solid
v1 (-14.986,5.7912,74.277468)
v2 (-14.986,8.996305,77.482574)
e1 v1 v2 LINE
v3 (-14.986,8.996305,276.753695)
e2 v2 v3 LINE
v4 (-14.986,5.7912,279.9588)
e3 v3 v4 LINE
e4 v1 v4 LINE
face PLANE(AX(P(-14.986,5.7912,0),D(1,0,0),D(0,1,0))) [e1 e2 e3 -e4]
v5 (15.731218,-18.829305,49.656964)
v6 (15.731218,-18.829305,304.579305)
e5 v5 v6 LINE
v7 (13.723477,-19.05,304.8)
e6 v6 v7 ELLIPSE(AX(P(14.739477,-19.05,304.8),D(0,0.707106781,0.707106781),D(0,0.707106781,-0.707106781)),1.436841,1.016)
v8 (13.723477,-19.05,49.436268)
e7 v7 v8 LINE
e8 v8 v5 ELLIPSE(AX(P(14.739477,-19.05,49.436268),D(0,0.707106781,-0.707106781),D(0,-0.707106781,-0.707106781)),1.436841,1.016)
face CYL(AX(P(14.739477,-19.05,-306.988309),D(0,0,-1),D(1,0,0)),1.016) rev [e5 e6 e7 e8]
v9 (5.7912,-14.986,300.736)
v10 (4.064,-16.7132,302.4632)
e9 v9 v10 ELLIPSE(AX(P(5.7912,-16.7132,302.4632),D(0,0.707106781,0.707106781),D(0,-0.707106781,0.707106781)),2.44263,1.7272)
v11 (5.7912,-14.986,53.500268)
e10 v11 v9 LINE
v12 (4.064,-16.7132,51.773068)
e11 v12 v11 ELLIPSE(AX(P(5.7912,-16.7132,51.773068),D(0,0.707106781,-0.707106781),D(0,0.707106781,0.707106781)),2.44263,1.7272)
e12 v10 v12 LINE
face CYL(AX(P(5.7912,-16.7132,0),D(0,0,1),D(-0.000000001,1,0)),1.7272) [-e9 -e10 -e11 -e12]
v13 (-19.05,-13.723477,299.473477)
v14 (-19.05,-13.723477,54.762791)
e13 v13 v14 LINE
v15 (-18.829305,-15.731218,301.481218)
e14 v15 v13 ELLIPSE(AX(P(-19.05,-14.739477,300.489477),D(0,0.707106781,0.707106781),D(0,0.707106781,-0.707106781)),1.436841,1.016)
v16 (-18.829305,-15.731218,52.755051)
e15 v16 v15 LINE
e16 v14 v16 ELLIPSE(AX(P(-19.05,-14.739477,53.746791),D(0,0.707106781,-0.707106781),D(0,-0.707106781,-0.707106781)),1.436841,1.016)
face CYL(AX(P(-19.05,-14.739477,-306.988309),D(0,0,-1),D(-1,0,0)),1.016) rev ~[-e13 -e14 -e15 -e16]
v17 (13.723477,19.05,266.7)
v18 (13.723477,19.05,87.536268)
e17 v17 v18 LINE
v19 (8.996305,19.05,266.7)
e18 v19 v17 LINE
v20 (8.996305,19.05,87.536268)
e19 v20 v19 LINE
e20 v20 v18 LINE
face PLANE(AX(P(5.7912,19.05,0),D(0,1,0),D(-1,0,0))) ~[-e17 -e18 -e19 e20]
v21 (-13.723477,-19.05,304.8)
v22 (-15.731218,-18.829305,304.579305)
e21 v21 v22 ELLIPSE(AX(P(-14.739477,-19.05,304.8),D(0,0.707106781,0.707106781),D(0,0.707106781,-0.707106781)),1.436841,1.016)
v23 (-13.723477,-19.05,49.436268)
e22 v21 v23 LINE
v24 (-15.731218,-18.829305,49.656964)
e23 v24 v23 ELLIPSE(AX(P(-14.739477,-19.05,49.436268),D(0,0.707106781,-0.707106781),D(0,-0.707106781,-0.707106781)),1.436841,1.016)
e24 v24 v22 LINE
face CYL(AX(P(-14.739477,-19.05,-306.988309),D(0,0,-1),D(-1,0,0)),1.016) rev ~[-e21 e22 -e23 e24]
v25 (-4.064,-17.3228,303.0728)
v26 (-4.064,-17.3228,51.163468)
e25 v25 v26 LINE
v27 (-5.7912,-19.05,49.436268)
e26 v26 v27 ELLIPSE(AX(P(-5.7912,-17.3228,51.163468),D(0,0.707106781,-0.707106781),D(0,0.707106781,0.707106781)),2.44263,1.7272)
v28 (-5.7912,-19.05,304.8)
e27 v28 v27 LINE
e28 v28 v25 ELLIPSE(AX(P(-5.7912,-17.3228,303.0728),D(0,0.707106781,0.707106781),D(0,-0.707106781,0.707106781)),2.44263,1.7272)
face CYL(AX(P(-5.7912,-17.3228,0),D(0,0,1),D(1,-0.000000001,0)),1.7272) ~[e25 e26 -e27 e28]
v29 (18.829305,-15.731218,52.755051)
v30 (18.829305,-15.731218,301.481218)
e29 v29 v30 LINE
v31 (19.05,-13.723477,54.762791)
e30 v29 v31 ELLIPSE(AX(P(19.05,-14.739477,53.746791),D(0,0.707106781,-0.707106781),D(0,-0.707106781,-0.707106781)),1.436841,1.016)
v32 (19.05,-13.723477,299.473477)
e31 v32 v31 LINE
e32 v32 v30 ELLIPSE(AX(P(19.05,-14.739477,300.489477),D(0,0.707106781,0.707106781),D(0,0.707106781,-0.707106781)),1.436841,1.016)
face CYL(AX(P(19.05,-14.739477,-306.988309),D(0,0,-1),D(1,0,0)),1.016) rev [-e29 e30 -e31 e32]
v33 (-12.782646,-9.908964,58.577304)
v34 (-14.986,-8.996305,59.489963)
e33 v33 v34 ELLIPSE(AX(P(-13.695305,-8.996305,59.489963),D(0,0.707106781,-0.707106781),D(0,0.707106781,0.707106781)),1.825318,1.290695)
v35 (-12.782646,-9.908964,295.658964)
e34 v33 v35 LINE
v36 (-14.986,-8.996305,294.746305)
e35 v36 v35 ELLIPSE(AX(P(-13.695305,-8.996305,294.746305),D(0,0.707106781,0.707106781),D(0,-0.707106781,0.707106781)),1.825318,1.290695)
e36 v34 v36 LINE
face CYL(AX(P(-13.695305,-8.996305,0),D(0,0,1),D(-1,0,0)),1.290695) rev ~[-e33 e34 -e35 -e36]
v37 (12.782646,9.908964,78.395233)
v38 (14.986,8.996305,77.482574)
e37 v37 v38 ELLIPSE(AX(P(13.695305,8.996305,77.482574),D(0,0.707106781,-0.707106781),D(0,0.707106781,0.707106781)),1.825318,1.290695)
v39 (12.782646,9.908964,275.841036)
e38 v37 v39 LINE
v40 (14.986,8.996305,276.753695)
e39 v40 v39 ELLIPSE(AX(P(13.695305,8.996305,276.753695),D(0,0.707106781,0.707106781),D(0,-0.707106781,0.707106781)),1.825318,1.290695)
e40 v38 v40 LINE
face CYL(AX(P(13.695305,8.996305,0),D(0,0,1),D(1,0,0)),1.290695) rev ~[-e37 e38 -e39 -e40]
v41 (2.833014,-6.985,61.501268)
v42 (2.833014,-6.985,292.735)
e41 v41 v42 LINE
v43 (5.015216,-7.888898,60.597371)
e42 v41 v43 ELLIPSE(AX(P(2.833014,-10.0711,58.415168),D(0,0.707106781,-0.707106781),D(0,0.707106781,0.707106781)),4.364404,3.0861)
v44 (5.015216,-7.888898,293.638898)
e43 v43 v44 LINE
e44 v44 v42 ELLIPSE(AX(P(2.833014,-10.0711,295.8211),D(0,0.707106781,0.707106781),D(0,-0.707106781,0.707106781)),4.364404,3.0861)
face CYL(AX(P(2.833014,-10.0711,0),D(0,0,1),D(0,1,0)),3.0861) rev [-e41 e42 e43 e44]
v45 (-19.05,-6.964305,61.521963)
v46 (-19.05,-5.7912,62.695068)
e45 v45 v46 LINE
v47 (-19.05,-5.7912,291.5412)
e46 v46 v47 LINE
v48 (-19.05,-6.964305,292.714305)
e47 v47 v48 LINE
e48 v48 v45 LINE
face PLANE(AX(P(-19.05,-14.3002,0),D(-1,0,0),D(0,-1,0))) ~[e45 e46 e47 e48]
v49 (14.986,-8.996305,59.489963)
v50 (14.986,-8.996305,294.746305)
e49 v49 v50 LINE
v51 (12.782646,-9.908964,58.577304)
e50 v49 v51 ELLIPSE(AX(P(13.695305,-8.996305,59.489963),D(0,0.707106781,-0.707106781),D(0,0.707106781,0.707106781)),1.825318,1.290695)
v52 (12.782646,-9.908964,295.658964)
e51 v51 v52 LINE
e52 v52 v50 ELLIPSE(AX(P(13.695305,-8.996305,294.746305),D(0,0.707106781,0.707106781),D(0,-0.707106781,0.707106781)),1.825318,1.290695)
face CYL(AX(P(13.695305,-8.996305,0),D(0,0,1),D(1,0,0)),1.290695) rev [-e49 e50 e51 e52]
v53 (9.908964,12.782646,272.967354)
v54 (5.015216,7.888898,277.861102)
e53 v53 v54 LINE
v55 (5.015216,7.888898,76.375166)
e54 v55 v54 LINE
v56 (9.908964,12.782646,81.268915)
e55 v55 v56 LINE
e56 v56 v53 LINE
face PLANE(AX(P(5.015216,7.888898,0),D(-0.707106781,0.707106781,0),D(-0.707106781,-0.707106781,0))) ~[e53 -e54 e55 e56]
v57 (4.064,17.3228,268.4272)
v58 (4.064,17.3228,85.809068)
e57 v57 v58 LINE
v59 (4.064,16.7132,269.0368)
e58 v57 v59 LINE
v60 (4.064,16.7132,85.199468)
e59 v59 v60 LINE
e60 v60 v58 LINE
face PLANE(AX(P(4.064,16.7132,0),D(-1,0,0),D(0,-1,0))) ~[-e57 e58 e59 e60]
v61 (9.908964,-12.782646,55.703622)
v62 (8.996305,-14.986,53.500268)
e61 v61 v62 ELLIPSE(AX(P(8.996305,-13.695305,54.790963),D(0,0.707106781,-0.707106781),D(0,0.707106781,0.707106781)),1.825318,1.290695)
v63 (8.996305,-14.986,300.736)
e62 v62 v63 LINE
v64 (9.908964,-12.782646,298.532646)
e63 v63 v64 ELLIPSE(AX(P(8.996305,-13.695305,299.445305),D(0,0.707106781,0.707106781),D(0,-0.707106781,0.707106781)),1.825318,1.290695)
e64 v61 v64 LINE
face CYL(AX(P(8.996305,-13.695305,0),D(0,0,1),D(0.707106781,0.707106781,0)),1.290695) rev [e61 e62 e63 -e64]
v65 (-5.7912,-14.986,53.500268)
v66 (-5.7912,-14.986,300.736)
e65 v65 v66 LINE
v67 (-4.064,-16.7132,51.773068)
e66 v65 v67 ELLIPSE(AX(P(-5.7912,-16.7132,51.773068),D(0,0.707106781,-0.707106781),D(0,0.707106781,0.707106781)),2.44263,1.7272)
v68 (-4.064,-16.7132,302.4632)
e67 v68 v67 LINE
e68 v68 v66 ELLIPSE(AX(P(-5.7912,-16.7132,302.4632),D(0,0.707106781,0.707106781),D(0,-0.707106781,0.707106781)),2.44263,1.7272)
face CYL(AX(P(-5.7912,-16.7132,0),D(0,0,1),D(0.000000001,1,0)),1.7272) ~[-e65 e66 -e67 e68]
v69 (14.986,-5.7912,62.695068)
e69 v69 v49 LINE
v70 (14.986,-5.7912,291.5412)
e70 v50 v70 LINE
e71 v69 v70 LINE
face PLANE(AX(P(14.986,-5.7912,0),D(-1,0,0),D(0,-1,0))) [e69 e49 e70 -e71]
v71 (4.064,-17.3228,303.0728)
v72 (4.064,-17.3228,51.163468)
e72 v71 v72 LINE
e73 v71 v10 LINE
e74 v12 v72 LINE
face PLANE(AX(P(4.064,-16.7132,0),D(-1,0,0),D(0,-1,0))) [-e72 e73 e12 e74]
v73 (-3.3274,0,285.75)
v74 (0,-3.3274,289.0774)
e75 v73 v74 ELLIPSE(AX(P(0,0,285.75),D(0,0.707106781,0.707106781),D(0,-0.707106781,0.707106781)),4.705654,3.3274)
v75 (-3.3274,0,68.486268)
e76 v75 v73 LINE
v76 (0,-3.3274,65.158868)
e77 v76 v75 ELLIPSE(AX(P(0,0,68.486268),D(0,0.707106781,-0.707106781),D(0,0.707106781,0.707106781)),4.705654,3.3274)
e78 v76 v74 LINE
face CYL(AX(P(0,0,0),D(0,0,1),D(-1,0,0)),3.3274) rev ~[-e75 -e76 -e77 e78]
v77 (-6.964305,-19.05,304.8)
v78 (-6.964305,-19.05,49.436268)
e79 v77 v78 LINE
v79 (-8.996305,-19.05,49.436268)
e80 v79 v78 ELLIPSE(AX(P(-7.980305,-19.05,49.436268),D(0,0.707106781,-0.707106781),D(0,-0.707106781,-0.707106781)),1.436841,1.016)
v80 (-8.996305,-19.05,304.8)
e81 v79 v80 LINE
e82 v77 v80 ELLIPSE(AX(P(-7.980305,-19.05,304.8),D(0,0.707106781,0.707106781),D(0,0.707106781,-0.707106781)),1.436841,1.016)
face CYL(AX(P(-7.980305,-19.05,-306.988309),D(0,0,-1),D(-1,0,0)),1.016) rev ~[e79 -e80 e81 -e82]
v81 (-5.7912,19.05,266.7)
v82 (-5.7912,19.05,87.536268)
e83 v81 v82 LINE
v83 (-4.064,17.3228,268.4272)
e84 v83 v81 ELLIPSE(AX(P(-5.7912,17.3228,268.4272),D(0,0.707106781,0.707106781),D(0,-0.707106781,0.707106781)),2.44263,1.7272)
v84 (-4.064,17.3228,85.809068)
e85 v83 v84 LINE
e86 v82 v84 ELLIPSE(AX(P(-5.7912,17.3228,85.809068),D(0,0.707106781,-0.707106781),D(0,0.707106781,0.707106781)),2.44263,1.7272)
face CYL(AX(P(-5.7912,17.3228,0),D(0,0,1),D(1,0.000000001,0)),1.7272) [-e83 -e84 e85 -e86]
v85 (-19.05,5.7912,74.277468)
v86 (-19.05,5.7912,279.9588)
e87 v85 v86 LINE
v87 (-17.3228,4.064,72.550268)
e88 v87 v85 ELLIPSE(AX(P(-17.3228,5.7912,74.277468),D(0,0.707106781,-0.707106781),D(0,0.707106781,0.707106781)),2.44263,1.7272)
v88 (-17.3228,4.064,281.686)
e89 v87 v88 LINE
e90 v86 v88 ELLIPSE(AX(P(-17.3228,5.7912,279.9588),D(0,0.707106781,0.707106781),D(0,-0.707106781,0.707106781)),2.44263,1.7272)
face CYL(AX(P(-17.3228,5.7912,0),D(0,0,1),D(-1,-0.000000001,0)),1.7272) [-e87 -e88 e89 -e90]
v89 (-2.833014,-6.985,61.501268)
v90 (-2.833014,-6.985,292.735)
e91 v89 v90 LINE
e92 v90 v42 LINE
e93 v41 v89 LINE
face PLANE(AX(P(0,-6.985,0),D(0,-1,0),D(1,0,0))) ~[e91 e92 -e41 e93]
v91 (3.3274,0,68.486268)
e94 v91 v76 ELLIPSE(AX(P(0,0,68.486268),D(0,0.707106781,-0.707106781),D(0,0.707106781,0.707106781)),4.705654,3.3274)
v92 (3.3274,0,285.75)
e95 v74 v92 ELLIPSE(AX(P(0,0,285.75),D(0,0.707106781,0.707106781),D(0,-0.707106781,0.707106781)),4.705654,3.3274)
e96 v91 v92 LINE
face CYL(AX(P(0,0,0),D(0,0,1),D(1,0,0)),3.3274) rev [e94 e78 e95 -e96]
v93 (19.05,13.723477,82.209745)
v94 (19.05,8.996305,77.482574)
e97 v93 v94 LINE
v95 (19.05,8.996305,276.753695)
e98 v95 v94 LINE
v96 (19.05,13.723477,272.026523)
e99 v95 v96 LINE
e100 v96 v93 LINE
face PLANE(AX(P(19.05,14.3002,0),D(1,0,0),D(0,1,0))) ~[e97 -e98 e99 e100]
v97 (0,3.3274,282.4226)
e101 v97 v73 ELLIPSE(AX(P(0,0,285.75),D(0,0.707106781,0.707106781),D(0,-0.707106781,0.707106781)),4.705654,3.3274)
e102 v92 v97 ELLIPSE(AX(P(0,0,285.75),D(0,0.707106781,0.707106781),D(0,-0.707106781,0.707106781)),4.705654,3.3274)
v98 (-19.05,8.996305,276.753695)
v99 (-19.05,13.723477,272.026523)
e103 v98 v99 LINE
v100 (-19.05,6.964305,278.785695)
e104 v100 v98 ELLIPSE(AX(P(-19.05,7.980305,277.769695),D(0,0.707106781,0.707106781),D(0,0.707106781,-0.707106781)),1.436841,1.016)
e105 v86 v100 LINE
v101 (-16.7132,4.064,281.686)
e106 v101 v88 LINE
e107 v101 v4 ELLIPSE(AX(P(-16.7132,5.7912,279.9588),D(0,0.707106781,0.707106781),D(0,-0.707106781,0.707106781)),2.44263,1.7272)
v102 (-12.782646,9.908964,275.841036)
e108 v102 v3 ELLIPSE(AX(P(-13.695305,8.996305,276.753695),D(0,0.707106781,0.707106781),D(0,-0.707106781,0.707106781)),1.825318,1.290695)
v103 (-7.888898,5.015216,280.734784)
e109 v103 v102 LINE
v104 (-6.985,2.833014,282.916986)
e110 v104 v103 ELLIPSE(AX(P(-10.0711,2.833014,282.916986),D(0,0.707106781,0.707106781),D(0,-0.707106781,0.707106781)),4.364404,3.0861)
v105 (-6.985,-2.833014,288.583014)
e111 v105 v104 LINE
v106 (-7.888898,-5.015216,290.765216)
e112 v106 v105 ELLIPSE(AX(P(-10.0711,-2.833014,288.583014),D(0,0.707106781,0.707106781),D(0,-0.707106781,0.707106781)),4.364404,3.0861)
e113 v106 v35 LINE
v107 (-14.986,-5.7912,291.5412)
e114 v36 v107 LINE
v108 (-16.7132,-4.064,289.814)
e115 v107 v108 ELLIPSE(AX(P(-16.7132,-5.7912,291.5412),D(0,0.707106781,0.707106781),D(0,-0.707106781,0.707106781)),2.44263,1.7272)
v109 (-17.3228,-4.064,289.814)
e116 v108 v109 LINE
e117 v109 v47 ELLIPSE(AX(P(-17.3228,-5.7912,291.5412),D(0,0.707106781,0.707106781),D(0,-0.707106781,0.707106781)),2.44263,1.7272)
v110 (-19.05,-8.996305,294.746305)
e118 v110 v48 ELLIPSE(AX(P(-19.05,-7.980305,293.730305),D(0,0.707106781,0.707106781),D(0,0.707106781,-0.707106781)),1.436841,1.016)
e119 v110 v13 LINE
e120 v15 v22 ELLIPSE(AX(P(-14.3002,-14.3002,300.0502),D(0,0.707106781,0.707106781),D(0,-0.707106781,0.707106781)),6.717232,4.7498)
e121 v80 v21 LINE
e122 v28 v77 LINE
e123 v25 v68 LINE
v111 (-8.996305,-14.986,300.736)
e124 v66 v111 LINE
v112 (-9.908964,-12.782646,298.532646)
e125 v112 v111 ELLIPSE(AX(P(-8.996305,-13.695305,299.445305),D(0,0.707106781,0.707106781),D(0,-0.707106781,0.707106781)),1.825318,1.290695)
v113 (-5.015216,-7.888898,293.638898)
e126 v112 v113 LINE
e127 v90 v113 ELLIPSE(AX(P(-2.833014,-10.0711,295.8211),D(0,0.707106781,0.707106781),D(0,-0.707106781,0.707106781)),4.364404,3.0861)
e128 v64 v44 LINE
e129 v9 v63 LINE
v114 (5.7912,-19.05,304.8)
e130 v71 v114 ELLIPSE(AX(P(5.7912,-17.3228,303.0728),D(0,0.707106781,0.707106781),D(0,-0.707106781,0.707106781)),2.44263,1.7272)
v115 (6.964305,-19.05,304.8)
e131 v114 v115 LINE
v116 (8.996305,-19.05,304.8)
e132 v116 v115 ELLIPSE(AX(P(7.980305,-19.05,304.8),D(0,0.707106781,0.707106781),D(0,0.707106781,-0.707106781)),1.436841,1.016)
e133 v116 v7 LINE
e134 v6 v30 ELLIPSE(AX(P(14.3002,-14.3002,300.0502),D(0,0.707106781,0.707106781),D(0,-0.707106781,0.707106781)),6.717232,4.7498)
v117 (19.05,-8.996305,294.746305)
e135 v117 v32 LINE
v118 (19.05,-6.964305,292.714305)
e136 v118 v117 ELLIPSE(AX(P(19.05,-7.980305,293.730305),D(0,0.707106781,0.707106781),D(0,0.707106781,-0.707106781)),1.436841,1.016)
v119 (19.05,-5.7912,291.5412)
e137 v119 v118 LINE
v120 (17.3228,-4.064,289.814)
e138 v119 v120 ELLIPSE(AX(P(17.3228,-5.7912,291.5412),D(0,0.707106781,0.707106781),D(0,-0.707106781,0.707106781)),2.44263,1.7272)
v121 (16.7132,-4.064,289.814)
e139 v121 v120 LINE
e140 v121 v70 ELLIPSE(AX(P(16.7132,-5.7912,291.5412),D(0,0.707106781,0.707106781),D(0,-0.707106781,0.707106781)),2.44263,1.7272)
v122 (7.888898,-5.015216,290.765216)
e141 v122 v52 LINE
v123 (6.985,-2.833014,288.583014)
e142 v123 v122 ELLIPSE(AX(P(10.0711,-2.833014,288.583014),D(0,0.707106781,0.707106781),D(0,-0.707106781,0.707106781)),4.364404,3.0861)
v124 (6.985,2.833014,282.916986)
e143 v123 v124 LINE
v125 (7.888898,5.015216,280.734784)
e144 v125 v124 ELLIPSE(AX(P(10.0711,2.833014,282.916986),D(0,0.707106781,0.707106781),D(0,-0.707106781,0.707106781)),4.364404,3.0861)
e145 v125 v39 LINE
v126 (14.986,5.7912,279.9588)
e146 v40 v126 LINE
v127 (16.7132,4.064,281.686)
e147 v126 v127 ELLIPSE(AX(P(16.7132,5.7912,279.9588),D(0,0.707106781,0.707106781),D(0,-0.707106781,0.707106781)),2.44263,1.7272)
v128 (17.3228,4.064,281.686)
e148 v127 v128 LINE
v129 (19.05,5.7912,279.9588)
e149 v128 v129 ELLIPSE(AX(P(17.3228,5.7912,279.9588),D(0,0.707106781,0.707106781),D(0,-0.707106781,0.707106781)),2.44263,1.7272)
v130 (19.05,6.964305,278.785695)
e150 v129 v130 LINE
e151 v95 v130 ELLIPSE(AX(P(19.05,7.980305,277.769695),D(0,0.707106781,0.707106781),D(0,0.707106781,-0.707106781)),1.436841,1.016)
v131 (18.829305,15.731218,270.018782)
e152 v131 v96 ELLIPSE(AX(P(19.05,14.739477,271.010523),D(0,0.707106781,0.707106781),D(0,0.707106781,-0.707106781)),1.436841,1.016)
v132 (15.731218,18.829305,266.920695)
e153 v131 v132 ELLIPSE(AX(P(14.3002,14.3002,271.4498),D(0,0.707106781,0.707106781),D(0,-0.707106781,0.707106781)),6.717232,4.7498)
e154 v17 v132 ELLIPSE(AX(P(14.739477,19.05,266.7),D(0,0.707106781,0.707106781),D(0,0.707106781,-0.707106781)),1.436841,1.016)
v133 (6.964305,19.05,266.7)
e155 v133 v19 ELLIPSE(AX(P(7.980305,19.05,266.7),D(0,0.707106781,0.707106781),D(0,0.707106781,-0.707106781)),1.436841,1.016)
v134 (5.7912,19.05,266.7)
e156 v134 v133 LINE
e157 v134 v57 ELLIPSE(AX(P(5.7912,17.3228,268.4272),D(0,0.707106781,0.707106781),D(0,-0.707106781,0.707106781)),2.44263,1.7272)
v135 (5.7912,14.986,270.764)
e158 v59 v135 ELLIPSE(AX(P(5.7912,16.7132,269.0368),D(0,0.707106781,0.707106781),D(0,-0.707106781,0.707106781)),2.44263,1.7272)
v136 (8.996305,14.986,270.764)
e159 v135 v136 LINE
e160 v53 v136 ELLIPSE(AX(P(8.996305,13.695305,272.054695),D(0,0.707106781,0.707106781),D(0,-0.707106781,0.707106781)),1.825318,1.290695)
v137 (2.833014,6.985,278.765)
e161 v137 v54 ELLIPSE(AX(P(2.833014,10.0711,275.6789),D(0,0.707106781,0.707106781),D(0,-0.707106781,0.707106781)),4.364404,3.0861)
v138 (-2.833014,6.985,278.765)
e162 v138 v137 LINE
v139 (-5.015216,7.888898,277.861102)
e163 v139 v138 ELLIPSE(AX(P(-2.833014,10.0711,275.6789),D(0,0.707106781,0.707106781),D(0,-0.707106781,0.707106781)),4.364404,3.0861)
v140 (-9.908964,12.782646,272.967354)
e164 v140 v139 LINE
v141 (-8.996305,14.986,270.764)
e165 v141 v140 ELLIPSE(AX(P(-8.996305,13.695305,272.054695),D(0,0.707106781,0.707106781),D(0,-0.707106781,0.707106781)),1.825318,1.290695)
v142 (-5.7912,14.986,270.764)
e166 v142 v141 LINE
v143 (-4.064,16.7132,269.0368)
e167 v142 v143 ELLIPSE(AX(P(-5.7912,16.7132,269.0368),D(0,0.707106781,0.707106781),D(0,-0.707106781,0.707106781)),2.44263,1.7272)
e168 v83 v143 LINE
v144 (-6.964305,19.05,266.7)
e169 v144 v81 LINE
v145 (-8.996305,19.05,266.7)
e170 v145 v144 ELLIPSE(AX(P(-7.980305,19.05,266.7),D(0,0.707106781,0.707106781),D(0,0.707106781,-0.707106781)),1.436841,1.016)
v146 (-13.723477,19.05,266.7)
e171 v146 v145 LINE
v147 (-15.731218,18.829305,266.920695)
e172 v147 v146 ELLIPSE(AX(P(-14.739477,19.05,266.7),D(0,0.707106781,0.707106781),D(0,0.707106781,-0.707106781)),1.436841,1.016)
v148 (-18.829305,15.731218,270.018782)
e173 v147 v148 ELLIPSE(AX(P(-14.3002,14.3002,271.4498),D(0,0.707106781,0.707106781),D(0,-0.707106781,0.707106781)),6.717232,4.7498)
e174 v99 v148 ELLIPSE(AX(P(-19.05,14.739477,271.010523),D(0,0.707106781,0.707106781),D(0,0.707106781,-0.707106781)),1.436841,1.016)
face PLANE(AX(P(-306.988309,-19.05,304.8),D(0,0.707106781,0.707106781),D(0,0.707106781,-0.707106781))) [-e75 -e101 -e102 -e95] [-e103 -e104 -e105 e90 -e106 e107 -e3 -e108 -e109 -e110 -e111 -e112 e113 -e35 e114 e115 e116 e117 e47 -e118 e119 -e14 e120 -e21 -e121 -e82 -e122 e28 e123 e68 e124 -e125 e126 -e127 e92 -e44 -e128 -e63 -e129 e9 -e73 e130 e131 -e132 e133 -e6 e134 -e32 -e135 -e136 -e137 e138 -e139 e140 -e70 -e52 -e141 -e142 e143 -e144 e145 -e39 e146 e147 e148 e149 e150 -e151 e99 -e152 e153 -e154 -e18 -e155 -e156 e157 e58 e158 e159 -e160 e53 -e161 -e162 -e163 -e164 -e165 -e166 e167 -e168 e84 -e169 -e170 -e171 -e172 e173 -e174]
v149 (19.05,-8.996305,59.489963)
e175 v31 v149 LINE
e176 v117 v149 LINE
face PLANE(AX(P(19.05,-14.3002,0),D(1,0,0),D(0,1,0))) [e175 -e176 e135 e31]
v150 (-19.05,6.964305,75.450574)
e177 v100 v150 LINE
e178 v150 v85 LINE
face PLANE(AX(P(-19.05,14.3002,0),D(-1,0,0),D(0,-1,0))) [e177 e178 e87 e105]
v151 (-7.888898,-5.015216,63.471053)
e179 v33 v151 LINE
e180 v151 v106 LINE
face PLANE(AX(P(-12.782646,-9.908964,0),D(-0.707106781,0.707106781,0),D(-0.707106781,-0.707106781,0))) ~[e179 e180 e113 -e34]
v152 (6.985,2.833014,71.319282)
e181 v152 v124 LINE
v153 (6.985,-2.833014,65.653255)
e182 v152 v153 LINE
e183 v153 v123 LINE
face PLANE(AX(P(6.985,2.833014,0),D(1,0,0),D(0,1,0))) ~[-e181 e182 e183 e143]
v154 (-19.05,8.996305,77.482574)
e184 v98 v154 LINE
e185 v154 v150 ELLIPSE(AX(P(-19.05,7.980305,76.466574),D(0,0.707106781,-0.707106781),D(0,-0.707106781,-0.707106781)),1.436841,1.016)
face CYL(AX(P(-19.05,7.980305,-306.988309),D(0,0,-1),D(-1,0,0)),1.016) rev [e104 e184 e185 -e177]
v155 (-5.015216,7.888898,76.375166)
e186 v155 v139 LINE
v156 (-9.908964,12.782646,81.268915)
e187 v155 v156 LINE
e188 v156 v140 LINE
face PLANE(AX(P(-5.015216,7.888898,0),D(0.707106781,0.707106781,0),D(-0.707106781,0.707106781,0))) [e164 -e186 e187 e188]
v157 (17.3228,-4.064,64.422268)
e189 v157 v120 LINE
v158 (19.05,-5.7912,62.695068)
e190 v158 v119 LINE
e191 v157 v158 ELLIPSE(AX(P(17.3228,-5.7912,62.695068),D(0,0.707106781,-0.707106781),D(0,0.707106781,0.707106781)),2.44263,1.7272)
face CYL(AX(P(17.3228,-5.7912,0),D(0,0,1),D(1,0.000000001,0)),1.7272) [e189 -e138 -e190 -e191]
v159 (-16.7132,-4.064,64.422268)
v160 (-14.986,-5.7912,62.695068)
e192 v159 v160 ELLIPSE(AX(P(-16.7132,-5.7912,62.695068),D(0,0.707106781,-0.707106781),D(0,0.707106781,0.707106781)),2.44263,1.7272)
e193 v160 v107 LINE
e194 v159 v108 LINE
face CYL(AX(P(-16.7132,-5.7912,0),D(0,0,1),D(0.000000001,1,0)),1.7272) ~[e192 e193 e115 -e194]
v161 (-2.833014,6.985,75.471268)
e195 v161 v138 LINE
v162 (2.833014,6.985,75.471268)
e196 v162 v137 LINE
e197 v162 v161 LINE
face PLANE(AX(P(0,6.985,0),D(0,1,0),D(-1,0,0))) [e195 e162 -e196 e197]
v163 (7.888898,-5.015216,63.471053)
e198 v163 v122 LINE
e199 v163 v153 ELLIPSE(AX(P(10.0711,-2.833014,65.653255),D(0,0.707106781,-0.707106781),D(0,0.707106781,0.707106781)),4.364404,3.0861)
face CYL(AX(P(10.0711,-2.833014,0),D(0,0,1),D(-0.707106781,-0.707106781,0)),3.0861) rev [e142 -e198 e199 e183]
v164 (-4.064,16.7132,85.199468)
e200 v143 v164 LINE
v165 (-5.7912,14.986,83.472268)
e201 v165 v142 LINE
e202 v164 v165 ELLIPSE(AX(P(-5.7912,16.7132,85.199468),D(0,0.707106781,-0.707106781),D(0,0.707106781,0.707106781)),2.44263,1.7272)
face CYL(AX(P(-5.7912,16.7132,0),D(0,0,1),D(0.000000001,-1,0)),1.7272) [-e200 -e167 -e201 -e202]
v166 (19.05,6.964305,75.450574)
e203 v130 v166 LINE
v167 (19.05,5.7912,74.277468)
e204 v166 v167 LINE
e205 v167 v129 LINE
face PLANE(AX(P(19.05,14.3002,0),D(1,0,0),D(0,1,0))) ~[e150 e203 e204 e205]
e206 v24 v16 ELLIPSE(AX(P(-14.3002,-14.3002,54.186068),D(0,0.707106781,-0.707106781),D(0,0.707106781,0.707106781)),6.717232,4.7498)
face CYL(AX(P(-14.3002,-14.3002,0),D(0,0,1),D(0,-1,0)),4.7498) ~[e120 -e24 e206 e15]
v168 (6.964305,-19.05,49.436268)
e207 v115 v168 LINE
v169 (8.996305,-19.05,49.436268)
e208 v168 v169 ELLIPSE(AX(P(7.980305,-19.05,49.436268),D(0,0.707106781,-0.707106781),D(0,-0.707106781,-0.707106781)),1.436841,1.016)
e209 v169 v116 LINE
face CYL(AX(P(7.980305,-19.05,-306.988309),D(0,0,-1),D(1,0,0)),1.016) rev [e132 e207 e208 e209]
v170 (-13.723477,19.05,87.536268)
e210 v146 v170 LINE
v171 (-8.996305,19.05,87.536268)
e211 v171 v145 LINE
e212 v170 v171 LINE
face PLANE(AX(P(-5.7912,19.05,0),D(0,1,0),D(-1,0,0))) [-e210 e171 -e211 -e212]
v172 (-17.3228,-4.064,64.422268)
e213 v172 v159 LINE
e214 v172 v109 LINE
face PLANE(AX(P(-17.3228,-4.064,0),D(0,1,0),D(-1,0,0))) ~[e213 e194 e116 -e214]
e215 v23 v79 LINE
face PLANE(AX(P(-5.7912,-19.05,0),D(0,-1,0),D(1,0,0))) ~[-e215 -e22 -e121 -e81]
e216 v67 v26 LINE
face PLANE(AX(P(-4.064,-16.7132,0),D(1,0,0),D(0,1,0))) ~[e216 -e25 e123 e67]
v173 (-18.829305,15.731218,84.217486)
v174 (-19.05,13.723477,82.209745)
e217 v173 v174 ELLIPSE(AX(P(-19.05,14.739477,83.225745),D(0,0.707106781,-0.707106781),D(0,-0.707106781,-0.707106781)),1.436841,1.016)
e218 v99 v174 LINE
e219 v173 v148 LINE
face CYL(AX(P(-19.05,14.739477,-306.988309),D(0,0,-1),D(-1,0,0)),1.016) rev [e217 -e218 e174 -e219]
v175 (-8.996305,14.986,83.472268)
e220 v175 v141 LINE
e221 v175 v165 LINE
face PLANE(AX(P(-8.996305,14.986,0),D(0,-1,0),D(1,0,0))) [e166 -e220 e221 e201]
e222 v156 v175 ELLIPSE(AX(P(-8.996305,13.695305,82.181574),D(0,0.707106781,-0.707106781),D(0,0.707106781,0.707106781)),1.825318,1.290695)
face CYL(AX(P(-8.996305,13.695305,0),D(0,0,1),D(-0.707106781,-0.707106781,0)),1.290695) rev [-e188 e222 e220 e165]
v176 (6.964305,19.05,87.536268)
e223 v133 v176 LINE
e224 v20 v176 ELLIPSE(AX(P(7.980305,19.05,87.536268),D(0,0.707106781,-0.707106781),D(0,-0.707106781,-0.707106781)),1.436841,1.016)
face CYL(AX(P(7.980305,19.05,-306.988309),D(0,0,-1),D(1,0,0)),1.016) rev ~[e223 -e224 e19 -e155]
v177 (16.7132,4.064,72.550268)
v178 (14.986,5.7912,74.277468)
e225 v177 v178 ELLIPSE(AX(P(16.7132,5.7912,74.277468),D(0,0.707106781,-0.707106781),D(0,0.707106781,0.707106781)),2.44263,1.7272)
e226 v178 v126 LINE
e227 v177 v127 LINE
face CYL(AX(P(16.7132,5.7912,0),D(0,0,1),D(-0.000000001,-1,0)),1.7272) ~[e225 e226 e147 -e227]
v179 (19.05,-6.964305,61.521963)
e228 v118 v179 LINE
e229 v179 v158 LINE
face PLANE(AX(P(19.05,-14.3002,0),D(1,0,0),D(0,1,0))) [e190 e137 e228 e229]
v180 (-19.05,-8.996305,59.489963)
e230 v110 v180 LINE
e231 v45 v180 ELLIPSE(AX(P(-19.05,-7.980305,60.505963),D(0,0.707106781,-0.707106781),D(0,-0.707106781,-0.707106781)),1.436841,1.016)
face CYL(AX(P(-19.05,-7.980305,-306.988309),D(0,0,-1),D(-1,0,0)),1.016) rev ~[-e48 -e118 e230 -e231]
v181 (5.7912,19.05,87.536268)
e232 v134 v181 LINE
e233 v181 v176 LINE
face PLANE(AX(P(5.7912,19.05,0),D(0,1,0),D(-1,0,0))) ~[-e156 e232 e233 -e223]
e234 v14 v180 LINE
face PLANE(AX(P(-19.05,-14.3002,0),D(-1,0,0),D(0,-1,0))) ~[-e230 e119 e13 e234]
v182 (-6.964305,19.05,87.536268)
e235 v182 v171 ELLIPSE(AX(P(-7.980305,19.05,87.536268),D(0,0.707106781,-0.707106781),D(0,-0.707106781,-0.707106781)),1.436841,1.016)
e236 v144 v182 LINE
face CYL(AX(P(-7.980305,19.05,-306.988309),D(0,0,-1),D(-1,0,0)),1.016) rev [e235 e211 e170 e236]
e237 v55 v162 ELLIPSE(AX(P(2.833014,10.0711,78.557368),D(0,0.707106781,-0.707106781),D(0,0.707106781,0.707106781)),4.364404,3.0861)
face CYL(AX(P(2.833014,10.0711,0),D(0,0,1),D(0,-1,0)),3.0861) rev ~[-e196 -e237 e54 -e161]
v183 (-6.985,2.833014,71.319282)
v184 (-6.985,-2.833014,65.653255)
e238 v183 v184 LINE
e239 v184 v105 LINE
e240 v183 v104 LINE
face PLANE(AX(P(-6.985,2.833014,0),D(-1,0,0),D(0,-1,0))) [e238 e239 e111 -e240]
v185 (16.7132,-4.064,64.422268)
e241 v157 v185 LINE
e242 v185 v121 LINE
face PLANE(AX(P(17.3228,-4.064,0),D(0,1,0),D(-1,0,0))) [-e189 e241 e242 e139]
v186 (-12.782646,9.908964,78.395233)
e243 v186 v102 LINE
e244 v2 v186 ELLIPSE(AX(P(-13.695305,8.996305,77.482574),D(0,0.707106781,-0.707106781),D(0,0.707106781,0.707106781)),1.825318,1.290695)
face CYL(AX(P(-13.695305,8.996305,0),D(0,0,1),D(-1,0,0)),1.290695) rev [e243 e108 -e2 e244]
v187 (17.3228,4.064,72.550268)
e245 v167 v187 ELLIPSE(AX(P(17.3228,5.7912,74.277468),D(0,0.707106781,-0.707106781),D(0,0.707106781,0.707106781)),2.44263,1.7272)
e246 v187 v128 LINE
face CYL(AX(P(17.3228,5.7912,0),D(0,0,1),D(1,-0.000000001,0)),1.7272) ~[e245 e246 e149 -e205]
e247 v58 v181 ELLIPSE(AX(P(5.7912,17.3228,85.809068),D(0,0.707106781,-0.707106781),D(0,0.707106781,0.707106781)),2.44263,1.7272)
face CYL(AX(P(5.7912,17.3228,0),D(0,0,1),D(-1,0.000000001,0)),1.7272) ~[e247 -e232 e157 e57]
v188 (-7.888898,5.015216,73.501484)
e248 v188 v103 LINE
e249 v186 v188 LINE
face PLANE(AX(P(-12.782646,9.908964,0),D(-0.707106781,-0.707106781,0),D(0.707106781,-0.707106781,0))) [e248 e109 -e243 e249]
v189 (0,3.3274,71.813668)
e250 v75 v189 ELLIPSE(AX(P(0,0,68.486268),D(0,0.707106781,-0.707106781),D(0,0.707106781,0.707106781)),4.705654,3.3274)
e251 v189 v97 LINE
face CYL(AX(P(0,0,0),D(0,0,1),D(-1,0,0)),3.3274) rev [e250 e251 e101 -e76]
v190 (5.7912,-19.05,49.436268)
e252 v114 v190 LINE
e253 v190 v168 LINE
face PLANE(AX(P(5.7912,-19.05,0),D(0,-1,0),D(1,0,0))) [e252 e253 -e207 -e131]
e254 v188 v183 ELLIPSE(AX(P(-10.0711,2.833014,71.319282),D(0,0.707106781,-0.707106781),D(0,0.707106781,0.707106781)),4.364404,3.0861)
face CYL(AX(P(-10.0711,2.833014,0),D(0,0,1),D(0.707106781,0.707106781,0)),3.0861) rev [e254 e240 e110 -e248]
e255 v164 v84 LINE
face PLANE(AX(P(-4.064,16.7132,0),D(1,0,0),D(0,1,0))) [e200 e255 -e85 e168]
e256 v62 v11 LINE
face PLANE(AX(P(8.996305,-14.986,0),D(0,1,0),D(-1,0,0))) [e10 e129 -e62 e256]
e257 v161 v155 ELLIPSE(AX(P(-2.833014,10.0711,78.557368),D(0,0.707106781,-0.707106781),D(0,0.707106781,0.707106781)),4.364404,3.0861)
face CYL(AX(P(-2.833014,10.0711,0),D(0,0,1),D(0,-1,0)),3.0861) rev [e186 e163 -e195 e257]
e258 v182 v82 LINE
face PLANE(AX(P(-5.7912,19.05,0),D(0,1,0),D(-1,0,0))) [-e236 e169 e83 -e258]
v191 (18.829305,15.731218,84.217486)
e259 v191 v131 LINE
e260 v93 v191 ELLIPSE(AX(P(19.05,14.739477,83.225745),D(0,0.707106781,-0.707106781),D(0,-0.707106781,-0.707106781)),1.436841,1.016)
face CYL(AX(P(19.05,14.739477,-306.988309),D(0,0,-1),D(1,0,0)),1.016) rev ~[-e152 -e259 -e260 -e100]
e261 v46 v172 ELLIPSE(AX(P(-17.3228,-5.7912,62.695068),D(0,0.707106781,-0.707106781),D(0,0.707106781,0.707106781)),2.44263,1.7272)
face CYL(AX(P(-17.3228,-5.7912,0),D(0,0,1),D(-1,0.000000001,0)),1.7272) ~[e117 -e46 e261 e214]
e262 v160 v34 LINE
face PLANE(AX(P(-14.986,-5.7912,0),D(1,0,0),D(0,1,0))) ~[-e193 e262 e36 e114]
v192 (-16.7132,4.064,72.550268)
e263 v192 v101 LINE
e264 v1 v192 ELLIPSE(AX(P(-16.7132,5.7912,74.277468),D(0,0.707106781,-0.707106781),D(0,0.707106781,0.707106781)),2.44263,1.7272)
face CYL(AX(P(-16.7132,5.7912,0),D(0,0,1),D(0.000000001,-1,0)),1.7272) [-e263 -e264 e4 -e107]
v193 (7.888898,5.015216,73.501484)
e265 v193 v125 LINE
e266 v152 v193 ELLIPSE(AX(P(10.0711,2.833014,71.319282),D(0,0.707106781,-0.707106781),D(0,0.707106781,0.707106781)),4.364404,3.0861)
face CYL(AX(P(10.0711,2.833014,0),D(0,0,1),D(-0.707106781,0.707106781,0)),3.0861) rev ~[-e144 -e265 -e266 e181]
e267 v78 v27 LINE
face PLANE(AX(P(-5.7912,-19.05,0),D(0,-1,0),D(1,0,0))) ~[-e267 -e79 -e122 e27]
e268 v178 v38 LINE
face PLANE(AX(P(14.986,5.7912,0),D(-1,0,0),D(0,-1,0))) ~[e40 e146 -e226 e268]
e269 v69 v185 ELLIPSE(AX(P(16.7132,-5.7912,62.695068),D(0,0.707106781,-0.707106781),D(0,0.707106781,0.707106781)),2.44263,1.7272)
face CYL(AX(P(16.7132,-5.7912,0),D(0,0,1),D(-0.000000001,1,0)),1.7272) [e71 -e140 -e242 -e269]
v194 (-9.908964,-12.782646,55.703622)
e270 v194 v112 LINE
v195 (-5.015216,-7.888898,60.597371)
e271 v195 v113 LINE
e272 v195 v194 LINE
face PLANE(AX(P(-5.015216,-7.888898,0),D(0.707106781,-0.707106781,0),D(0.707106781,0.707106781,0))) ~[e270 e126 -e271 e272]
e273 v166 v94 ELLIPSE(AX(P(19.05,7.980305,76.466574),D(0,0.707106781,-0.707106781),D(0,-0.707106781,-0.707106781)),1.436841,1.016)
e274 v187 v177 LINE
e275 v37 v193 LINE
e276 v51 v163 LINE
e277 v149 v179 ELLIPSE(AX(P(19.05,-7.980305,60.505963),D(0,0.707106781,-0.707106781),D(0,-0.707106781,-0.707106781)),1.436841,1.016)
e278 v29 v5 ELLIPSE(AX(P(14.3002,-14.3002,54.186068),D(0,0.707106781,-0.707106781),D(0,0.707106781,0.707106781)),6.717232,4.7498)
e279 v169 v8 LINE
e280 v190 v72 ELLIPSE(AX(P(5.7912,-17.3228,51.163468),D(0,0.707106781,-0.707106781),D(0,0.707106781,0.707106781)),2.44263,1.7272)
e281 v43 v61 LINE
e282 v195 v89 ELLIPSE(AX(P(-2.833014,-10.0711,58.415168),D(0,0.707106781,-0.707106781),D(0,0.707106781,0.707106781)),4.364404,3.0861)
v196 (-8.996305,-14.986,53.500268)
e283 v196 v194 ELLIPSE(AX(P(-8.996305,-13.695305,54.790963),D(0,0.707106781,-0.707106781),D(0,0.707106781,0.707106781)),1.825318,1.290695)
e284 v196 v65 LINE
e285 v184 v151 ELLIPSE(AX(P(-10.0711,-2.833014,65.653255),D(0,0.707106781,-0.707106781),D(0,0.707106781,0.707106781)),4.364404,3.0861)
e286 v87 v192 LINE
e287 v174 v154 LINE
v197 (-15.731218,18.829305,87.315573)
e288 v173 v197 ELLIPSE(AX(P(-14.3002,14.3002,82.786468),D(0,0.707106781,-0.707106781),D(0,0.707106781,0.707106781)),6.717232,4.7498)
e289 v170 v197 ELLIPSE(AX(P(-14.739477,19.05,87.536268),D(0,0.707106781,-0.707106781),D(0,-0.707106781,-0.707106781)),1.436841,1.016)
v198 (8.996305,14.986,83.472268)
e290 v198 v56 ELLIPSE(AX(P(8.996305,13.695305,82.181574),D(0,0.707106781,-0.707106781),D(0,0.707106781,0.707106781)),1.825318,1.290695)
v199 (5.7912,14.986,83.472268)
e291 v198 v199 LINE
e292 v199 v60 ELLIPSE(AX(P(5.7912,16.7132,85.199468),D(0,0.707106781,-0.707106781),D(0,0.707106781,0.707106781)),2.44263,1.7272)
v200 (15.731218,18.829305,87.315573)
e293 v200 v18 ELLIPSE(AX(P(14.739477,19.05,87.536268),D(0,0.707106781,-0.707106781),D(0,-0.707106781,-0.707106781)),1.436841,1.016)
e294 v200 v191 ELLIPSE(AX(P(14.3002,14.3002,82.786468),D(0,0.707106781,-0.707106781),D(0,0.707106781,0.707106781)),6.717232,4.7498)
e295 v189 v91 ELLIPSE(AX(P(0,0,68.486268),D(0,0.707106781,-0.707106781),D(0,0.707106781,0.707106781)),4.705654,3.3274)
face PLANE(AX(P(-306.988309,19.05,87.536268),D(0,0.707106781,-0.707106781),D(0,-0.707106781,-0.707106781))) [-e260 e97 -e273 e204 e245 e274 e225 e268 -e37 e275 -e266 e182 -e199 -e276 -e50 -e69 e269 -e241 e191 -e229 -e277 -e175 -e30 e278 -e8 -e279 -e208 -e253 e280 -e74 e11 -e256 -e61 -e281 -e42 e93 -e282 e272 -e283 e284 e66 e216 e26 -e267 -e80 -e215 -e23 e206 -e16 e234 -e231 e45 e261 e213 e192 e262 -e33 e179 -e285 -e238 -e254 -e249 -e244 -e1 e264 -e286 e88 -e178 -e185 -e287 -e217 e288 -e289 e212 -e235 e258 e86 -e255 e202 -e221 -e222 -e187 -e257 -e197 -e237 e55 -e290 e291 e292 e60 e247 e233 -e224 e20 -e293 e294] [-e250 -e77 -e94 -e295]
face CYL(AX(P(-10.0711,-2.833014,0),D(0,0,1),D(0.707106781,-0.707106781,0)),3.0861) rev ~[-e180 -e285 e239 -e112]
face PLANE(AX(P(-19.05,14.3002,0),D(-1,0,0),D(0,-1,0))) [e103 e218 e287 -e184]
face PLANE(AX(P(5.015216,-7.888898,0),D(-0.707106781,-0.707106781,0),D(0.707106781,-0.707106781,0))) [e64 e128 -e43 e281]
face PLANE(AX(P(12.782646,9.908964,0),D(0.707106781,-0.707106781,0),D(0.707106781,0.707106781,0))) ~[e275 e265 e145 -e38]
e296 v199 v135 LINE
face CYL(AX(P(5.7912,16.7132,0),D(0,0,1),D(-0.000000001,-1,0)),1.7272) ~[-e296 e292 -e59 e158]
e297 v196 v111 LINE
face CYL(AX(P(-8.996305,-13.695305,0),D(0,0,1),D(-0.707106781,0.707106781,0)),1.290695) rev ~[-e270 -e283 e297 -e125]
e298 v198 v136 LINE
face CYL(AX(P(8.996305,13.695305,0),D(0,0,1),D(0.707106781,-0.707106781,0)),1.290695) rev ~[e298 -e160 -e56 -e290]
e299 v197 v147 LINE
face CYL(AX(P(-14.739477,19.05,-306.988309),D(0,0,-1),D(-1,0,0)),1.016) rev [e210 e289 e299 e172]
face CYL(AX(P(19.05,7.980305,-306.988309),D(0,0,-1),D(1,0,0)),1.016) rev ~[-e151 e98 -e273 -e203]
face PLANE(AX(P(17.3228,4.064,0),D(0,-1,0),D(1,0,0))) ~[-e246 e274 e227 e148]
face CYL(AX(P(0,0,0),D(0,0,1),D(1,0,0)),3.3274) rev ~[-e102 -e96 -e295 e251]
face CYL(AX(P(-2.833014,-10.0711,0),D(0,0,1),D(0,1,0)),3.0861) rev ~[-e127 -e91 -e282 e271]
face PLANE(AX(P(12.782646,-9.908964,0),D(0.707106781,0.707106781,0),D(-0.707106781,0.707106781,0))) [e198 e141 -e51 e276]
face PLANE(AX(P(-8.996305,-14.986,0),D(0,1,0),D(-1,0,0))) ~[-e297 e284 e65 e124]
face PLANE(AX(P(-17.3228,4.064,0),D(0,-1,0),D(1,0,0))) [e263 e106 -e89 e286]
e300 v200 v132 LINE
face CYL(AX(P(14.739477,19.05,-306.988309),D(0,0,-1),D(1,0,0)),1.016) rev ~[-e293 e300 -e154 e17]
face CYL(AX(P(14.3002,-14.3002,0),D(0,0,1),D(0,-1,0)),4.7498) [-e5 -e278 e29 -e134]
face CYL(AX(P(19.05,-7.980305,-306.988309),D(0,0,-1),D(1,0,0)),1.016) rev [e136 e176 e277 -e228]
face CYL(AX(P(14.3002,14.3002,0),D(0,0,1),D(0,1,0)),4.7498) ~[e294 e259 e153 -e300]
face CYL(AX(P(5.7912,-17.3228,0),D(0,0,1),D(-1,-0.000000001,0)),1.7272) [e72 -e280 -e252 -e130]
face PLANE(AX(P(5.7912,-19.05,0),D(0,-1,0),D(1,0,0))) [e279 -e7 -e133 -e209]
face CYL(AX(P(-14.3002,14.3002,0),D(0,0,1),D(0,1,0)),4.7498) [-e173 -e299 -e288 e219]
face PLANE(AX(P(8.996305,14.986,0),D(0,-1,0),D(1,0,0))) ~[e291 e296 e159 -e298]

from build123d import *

# Parameters (mm, degrees)
BOSS_EXTRUDE1_DEPTH     = 304.8
CUT_EXTRUDE1_DEPTH      = 306.9883086
CUT_EXTRUDE1_DEPTH_BACK = 306.9883086
SKETCH5_R               = 1.016
CUT_EXTRUDE2_DEPTH      = 306.9883086
CUT_EXTRUDE2_DEPTH_BACK = 306.9883086


with BuildPart() as part:
    # Sketch4 → Boss-Extrude1 (new, symmetric)
    with BuildSketch(Plane.XY):
        with BuildLine():
            Line((5.7912, -19.05), (14.3002, -19.05))
            ThreePointArc((14.3002, -19.05), (17.658815789, -17.658815789), (19.05, -14.3002))
            Line((19.05, -14.3002), (19.05, -5.7912))
            ThreePointArc((19.05, -5.7912), (18.544114832, -4.569885168), (17.3228, -4.064))
            Line((17.3228, -4.064), (16.7132, -4.064))
            ThreePointArc((16.7132, -4.064), (15.491885168, -4.569885168), (14.986, -5.7912))
            Line((14.986, -5.7912), (14.986, -8.996305235))
            ThreePointArc((14.986, -8.996305235), (14.189232738, -10.188751711), (12.782646215, -9.908964256))
            Line((12.782646215, -9.908964256), (7.888897763, -5.015215804))
            ThreePointArc((7.888897763, -5.015215804), (7.219915375, -4.014012907), (6.985, -2.833013566))
            Line((6.985, -2.833013566), (6.985, 0))
            Line((6.985, 0), (3.3274, 0))
            ThreePointArc((3.3274, 0), (2.352827104, -2.352827104), (0, -3.3274))
            Line((0, -3.3274), (0, -6.985))
            Line((0, -6.985), (2.833013566, -6.985))
            ThreePointArc((2.833013566, -6.985), (4.014012907, -7.219915375), (5.015215804, -7.888897763))
            Line((5.015215804, -7.888897763), (9.908964256, -12.782646215))
            ThreePointArc((9.908964256, -12.782646215), (10.188751711, -14.189232738), (8.996305235, -14.986))
            Line((8.996305235, -14.986), (5.7912, -14.986))
            ThreePointArc((5.7912, -14.986), (4.569885168, -15.491885168), (4.064, -16.7132))
            Line((4.064, -16.7132), (4.064, -17.3228))
            ThreePointArc((4.064, -17.3228), (4.569885168, -18.544114832), (5.7912, -19.05))
        make_face()
    extrude(amount=BOSS_EXTRUDE1_DEPTH, both=True)

    # Sketch5 → Cut-Extrude1 (cut, two sides: drawn at the far end of the back side and taken through both)
    with BuildSketch(Plane.XY.offset(-CUT_EXTRUDE1_DEPTH_BACK)):
        with Locations((14.739477062, -19.05)):
            Circle(SKETCH5_R)
        with Locations((7.980305235, -19.05)):
            Circle(SKETCH5_R)
        with Locations((19.05, -14.739477062)):
            Circle(SKETCH5_R)
        with Locations((19.05, -7.980305235)):
            Circle(SKETCH5_R)
    extrude(amount=CUT_EXTRUDE1_DEPTH + CUT_EXTRUDE1_DEPTH_BACK, mode=Mode.SUBTRACT)

    # Mirror1: part across plane


with BuildPart() as part_1:
    add(part.part)
    add(part.part.mirror(Plane(origin=(0, 0, 0), x_dir=(0, 0, 1), z_dir=(1, 0, 0))))

    # Mirror2: part across plane


with BuildPart() as part_2:
    add(part_1.part)
    add(part_1.part.mirror(Plane.ZX))

    # Sketch6 → Cut-Extrude2 (cut, two sides: drawn at the far end of the back side and taken through both)
    with BuildSketch(Plane(origin=(0, 0, 0), x_dir=(0, 0, -1), z_dir=(1, 0, 0)).offset(-CUT_EXTRUDE2_DEPTH_BACK)):
        Polygon((-266.7, 19.05), (-304.8, 19.05), (-304.8, -19.05), align=None)
        Polygon((-87.536268412, 19.05), (-49.436268412, -19.05), (304.8, -19.05), (304.8, 19.05), align=None)
    extrude(amount=CUT_EXTRUDE2_DEPTH + CUT_EXTRUDE2_DEPTH_BACK, mode=Mode.SUBTRACT)


solid = part_2.part
